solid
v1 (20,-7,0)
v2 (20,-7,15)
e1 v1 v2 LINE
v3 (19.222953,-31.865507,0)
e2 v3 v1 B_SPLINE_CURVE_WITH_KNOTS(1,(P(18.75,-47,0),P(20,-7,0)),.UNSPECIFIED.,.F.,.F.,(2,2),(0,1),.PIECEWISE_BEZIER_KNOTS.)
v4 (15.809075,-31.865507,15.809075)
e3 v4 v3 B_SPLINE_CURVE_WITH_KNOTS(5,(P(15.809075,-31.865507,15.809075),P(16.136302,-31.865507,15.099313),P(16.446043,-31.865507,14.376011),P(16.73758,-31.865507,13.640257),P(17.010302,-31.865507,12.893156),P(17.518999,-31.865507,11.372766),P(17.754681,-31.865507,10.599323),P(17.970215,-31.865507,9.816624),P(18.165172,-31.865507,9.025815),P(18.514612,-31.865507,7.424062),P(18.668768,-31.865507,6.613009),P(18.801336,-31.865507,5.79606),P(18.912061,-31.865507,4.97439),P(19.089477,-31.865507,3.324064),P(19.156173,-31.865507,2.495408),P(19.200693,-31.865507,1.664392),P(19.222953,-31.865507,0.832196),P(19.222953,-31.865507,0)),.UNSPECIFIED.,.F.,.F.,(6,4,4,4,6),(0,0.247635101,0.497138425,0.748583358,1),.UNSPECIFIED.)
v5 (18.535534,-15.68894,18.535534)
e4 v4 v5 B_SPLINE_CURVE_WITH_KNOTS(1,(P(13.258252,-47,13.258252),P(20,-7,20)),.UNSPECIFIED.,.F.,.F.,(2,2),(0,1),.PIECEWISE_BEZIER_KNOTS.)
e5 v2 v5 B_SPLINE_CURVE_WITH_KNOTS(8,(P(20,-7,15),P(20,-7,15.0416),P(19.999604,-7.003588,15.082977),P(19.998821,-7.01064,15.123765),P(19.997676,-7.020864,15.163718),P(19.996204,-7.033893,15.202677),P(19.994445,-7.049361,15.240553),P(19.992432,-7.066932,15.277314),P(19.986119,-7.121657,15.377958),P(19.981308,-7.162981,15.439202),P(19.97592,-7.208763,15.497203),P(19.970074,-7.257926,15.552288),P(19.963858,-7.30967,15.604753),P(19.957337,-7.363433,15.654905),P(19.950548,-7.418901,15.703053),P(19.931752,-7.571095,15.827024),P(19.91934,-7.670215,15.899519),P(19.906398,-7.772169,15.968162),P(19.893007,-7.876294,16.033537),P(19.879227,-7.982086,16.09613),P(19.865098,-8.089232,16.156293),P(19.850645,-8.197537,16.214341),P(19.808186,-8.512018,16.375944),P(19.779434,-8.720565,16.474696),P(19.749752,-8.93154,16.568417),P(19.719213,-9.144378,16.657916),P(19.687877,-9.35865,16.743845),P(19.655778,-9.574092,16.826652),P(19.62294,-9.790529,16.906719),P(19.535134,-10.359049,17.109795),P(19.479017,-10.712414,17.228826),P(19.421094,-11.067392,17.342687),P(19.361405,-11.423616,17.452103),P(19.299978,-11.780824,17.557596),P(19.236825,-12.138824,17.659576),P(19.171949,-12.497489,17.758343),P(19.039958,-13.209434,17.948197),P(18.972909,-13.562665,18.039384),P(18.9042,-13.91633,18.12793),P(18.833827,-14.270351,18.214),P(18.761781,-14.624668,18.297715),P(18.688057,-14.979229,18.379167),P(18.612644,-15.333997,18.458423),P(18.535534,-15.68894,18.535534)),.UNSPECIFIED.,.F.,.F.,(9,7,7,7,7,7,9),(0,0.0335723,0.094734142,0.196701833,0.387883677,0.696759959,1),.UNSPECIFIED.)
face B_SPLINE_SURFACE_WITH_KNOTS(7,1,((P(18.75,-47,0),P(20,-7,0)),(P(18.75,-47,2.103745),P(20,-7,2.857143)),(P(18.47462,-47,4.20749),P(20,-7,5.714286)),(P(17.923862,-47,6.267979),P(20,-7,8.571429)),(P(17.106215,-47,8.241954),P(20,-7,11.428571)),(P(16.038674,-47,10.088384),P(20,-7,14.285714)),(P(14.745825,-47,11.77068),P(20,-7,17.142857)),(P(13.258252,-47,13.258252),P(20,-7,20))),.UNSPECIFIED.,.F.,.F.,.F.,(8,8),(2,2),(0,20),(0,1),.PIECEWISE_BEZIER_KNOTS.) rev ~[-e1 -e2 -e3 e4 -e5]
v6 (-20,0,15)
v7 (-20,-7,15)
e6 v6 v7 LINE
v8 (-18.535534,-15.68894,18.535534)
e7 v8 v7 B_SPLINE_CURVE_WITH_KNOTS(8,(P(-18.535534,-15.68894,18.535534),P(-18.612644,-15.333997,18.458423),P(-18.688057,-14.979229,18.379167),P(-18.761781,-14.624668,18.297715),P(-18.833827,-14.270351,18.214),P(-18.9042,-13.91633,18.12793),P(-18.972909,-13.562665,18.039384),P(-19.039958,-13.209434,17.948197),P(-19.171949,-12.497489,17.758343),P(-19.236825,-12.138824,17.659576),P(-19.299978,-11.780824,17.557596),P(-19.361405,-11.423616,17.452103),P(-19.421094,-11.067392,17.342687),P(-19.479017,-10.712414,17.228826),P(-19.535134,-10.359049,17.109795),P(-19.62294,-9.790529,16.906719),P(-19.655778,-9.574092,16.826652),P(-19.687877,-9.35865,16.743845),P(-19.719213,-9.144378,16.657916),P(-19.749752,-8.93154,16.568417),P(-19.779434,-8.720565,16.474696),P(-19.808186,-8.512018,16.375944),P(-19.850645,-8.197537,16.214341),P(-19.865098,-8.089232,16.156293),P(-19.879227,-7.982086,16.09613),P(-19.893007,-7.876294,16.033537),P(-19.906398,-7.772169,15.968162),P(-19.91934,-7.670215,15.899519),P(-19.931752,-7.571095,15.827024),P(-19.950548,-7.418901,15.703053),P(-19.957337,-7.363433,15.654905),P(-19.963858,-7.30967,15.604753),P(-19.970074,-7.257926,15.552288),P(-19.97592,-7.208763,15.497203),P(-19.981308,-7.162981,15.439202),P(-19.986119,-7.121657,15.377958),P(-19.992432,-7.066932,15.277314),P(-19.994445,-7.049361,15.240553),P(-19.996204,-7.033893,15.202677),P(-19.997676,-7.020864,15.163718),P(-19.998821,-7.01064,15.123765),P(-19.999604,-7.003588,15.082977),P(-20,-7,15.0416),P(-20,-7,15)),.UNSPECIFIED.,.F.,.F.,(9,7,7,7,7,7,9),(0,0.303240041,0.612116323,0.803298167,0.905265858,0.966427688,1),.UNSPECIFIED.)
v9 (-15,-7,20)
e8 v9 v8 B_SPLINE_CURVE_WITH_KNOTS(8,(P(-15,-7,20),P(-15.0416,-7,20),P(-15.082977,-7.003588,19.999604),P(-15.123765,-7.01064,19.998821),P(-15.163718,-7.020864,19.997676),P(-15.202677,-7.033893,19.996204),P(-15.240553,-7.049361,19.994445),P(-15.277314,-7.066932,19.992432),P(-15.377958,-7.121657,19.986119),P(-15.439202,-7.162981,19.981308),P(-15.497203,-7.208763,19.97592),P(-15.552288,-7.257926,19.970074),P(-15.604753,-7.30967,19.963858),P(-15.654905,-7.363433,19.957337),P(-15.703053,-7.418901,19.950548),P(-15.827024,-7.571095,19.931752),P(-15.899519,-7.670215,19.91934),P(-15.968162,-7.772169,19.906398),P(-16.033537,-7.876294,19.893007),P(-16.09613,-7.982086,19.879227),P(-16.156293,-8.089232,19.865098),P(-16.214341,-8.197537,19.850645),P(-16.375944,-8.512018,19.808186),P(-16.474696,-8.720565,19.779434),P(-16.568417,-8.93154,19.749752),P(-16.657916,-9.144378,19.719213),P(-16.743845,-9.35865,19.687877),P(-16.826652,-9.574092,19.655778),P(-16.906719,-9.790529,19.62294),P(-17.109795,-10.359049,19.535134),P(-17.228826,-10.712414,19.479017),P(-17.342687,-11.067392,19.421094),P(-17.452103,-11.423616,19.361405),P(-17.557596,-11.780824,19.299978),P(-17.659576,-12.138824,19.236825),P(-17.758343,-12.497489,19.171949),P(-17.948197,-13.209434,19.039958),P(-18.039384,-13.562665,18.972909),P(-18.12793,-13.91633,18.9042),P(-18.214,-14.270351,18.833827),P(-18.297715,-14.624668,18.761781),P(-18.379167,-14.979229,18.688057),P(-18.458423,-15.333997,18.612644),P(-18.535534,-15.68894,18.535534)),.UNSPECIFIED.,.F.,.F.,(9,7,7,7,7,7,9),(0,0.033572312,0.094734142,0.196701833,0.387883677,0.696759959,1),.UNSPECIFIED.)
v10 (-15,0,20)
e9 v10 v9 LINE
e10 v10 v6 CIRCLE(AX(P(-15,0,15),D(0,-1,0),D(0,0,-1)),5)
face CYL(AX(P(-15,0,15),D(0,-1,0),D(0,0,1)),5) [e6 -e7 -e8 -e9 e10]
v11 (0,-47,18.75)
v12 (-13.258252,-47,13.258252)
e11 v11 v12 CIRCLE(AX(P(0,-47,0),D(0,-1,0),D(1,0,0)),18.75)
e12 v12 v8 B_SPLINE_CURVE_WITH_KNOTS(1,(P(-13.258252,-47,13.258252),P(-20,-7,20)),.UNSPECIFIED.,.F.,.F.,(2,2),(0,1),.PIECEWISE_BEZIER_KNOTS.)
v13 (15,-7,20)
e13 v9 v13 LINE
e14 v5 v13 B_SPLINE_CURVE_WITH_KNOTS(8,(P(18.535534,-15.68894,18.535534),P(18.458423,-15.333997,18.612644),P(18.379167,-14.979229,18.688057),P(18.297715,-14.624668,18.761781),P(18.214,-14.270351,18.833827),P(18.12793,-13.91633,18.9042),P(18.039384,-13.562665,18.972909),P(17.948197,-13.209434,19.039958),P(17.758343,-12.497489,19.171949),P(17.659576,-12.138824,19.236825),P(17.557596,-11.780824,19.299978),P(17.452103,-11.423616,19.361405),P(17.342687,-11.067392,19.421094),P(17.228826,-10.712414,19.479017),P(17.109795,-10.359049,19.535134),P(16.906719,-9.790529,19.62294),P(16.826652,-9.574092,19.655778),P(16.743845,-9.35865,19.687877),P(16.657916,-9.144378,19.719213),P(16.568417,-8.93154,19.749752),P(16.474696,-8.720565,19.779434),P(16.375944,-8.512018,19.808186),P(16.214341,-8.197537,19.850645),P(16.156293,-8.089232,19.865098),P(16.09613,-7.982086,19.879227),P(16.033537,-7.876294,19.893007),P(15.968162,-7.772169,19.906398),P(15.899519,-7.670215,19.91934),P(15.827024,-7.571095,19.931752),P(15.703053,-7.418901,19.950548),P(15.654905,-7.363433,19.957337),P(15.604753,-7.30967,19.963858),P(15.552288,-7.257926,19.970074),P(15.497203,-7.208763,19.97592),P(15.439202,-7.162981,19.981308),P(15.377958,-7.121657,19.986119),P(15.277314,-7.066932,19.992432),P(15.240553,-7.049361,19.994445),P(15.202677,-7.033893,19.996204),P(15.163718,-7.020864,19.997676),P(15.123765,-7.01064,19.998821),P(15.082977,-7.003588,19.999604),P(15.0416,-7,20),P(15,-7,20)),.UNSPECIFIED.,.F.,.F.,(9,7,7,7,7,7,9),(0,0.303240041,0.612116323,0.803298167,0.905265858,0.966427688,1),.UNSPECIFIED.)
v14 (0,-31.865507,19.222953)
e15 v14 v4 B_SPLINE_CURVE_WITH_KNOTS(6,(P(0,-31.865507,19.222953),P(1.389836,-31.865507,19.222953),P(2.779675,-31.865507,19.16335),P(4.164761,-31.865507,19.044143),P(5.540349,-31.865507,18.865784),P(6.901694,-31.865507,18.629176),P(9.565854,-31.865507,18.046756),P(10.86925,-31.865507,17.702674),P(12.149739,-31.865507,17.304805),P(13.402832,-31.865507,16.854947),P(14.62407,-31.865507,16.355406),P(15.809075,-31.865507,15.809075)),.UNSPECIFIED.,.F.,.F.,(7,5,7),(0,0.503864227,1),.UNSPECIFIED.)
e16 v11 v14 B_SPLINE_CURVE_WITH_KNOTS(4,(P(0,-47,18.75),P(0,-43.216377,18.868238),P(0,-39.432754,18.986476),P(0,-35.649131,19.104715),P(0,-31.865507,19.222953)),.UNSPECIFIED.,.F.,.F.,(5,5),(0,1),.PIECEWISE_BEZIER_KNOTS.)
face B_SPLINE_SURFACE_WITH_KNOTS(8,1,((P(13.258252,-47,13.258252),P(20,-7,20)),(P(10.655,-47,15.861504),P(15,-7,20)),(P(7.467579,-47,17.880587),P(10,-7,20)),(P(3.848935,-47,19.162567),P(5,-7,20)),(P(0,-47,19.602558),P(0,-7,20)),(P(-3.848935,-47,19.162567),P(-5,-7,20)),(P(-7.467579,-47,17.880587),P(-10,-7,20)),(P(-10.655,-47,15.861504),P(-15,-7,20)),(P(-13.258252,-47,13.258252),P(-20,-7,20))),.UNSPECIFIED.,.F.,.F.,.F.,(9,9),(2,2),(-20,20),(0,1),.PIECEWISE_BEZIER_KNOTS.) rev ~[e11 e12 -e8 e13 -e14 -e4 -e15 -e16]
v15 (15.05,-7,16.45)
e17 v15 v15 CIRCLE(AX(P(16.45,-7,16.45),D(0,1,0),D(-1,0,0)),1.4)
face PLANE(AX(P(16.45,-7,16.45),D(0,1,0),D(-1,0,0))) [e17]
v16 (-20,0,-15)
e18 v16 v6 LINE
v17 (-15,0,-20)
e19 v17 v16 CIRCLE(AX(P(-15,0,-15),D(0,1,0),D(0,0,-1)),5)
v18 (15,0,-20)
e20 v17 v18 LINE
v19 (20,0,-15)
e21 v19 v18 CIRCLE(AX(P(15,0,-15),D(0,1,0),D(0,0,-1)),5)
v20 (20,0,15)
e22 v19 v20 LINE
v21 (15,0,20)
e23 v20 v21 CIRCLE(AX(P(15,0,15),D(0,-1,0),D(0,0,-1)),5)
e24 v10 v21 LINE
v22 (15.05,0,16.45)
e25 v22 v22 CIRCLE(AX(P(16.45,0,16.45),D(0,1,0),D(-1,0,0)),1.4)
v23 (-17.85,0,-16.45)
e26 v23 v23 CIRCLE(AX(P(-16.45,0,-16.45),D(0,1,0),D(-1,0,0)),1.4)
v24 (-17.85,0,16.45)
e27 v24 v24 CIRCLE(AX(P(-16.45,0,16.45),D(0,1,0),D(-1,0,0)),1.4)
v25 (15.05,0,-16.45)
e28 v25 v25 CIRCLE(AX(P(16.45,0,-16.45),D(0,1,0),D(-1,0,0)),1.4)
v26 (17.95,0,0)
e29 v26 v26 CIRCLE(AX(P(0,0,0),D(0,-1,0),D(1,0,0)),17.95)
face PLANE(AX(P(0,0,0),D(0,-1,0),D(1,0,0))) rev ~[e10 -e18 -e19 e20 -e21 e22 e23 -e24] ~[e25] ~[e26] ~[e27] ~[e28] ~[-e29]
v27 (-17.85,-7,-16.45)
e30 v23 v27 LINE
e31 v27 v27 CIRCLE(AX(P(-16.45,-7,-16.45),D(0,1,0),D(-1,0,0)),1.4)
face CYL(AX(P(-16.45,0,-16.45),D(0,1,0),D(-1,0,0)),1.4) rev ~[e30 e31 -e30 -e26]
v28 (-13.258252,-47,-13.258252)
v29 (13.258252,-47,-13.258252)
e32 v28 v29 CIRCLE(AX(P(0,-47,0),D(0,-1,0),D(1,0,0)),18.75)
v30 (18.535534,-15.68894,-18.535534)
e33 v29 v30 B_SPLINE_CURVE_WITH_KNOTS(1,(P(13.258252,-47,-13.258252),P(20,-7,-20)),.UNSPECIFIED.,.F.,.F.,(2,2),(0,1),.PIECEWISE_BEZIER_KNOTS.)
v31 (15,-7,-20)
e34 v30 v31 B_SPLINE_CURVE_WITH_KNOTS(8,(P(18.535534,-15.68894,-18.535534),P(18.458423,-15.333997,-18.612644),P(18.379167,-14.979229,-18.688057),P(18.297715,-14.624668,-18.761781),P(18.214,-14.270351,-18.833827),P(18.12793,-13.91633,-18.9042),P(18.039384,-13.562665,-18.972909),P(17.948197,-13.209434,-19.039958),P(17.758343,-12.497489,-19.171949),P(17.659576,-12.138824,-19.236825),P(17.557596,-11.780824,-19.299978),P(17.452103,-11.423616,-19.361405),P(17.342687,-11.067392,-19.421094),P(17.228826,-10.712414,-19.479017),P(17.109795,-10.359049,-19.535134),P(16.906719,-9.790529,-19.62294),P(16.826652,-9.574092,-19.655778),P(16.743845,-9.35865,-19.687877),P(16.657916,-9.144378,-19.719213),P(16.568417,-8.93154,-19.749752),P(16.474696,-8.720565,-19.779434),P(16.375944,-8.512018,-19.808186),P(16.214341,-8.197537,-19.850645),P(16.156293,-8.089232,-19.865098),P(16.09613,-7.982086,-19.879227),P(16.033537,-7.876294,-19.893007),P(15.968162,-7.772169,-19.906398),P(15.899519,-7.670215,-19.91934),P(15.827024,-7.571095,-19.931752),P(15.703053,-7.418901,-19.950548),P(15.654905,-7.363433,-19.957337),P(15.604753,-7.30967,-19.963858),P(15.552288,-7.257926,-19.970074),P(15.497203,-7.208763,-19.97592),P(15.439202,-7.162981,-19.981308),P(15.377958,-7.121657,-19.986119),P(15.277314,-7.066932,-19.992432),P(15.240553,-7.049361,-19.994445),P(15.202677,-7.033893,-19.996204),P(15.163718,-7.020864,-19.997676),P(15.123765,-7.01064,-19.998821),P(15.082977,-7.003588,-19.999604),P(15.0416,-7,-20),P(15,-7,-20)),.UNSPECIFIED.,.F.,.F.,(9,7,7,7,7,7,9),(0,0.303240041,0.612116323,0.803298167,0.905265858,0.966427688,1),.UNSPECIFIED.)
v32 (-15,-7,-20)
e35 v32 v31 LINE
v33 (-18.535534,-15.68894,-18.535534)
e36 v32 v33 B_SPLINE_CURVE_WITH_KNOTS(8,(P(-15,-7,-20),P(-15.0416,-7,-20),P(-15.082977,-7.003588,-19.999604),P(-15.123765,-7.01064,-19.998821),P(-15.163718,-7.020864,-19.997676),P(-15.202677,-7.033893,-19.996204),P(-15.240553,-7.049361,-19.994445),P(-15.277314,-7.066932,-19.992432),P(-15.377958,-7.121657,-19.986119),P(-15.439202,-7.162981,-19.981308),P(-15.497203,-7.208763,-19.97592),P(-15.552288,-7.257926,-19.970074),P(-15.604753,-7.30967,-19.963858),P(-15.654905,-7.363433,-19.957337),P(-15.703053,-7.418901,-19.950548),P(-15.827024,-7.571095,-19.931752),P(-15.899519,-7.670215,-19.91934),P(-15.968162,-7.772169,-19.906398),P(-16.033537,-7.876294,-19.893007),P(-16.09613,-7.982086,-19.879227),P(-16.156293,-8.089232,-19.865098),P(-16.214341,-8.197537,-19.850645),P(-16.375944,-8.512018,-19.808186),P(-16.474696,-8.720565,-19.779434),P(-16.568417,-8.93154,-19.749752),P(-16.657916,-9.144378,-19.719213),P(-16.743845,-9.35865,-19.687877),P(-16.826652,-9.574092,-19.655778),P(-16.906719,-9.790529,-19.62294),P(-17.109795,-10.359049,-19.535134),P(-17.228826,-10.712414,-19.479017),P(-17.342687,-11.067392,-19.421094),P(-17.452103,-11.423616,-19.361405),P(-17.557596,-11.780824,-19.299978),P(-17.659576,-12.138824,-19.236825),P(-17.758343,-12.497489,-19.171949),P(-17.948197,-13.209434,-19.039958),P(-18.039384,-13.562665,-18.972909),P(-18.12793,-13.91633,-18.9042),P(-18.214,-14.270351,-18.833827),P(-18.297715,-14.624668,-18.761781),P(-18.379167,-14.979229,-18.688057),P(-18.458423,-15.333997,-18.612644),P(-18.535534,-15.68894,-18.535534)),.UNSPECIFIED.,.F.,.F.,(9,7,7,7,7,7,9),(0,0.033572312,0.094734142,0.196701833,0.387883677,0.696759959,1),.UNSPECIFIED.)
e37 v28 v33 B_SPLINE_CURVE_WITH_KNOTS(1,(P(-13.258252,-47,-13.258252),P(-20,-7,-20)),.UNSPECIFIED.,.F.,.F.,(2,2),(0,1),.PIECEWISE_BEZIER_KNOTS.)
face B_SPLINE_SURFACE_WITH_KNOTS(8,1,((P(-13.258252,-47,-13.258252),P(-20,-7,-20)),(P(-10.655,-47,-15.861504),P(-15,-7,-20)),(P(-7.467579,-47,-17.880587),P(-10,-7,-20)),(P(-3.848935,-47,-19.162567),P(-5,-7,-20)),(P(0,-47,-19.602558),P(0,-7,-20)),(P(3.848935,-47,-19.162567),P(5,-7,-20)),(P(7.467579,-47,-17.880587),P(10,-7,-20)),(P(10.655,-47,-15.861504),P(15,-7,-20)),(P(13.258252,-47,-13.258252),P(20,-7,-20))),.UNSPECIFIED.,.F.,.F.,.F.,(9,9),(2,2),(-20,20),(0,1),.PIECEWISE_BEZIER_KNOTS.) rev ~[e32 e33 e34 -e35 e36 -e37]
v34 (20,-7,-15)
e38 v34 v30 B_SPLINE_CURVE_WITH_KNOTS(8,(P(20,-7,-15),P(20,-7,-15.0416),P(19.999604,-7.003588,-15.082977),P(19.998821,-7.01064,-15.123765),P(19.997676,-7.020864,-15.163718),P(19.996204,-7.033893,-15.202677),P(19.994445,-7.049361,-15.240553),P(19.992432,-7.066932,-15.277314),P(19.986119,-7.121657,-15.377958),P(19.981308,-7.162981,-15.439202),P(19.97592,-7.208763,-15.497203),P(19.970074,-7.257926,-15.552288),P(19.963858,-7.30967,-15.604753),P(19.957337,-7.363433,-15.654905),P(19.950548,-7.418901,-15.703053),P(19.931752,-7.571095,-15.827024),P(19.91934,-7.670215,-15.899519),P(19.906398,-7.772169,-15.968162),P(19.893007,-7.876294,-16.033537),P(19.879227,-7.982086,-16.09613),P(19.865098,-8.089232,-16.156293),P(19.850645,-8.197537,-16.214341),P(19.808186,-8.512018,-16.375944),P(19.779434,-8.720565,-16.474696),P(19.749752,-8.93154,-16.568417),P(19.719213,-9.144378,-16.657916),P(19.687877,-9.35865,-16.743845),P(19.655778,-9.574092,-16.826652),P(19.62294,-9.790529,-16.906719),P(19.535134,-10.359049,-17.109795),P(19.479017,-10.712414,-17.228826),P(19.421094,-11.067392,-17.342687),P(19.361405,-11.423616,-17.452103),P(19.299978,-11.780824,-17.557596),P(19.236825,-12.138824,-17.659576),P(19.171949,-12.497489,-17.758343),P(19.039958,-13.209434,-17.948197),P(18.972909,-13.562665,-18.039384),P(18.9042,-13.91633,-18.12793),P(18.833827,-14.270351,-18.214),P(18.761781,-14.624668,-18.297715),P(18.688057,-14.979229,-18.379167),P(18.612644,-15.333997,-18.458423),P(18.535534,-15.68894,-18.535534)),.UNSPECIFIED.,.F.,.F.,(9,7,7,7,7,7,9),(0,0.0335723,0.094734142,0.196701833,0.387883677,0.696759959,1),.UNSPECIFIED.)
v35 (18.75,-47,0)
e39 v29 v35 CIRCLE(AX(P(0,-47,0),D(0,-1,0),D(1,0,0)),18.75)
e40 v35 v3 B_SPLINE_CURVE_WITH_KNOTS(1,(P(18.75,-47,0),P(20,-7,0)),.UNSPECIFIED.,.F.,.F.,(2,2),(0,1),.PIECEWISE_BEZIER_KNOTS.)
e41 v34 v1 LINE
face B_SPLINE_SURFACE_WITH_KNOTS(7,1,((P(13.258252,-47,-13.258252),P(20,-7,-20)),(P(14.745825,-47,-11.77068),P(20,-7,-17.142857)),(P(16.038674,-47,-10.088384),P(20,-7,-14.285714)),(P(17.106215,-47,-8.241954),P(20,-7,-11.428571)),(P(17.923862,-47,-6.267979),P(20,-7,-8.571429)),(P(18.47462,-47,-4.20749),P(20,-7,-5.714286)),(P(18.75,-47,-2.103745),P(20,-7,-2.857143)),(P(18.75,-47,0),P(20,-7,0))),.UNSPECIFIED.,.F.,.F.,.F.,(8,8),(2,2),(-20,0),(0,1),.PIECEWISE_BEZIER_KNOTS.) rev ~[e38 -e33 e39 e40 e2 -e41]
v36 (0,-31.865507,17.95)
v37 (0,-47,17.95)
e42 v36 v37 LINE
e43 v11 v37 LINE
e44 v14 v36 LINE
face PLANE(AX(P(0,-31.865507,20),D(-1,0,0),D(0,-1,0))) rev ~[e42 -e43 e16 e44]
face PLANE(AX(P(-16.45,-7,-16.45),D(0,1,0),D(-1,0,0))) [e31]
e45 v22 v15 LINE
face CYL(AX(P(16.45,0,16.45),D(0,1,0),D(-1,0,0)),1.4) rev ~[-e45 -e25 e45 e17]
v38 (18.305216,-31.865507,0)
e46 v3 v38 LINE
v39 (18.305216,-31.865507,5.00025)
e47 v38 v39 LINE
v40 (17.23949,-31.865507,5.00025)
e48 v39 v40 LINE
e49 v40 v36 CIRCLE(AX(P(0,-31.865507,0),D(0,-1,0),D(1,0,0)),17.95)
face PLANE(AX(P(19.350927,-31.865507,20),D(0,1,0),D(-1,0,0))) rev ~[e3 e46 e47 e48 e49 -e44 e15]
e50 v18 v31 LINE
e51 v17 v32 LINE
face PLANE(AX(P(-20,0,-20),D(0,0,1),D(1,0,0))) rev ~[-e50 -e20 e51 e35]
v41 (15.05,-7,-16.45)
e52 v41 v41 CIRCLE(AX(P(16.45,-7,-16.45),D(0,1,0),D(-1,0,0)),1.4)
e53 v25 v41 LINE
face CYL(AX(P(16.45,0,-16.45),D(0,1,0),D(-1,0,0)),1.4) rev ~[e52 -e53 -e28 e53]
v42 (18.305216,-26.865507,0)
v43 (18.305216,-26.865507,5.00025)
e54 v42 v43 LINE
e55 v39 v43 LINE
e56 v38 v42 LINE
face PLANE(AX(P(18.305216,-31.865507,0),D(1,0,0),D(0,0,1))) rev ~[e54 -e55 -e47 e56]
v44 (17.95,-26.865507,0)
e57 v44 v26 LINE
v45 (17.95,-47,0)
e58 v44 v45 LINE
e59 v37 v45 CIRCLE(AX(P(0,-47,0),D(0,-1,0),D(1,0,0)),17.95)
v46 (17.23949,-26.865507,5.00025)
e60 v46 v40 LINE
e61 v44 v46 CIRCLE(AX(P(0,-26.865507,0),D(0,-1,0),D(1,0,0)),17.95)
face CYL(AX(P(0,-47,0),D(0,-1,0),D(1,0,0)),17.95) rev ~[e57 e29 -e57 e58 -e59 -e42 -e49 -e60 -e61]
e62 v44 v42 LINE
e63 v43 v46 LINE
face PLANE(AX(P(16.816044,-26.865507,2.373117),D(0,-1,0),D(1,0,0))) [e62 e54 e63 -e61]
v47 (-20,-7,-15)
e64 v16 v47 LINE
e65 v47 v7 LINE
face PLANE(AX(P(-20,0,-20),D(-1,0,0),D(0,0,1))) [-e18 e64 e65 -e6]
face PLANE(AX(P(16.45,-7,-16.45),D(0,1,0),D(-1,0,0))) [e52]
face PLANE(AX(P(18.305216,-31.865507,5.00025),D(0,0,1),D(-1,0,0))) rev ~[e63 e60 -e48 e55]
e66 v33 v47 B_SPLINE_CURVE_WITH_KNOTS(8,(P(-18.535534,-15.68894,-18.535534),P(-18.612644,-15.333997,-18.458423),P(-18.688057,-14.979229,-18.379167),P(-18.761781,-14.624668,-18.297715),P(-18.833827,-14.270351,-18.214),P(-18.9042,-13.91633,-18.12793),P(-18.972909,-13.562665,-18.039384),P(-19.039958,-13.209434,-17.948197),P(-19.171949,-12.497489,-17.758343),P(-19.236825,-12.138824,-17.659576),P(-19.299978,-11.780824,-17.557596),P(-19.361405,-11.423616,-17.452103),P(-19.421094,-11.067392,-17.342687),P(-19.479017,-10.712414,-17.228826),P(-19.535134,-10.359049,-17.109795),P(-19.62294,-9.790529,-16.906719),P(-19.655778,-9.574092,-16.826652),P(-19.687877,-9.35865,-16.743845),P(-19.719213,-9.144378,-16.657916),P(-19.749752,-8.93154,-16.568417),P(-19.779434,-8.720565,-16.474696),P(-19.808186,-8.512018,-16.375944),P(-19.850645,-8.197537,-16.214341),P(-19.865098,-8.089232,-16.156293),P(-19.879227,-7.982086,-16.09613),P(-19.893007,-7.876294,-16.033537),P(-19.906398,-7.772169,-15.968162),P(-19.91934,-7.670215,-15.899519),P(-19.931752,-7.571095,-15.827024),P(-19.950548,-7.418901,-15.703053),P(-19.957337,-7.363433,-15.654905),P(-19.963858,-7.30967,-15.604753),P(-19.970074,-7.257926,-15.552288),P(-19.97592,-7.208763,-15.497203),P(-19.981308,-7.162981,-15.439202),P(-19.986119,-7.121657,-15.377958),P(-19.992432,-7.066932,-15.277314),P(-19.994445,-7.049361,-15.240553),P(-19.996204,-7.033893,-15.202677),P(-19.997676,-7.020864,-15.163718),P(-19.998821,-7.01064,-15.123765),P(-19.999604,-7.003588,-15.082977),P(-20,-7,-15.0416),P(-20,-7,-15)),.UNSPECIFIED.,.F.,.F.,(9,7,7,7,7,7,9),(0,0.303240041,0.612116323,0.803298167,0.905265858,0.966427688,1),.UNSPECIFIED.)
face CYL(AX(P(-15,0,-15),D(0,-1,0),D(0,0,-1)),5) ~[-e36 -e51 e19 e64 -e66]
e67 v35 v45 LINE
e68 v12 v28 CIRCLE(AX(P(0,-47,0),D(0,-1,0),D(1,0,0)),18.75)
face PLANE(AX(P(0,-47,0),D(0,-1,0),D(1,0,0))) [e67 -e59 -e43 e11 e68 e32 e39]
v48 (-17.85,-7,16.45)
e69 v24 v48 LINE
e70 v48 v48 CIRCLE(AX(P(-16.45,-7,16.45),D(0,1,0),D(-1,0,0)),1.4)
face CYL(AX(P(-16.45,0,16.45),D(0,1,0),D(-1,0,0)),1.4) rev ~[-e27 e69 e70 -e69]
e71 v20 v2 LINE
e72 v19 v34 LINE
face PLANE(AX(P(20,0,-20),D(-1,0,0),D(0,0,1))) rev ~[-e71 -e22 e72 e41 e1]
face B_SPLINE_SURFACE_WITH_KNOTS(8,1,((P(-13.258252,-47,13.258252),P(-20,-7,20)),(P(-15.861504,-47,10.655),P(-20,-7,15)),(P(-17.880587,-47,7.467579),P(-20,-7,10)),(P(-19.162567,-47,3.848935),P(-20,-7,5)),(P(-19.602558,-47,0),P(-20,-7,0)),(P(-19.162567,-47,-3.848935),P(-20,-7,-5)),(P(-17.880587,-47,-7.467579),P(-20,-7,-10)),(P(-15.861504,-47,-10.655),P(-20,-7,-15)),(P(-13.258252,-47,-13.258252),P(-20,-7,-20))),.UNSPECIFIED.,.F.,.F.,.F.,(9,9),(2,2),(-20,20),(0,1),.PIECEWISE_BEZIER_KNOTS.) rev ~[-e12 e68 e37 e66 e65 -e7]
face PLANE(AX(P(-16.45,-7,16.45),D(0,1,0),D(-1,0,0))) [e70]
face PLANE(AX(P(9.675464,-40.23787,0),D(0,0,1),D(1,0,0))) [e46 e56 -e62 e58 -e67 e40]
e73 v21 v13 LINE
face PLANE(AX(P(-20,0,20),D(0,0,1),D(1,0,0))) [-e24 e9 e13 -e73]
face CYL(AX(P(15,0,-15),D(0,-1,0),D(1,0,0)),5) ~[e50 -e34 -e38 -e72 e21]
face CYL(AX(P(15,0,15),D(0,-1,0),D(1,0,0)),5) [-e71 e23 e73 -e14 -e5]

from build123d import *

# Parameters (mm, degrees)
F0_W      = 40
F0_H      = 40
F1_DEPTH  = 7
F3_R      = 18.75
F1_FACE_W = 40
F1_FACE_H = 40
F5_R      = 17.95
F6_DEPTH  = 47
F7_R      = 1.4
F8_DEPTH  = 7
F9_R      = 5
F11_DEPTH = 20
F13_DEPTH = 5


with BuildPart() as f1:
    # F0 (on Front) → F1 (new body)
    with BuildSketch(Plane.XZ):
        Rectangle(F0_W, F0_H)
    extrude(amount=F1_DEPTH)

    # F3 (on offset) → F4 section 0
    with BuildSketch(Plane.XZ.offset(47)):
        Circle(F3_R)
    # F1_face (on face) → F4 section 1
    with BuildSketch(Plane.XZ.offset(7)):
        Rectangle(F1_FACE_W, F1_FACE_H)
    loft()

    # F5 (on face) → F6 (cut, through all)
    with BuildSketch(Plane.XZ.offset(47)):
        Circle(F5_R)
    extrude(amount=-F6_DEPTH, mode=Mode.SUBTRACT)

    # F7 (on face) → F8 (cut, through all)
    with BuildSketch(Plane(origin=(0, 0, 0), x_dir=(-1, 0, 0), z_dir=(0, 1, 0))):
        with Locations((-16.45, 16.45)):
            Circle(F7_R)
        with Locations((16.45, 16.45)):
            Circle(F7_R)
        with Locations((-16.45, -16.45)):
            Circle(F7_R)
        with Locations((16.45, -16.45)):
            Circle(F7_R)
    extrude(amount=-F8_DEPTH, mode=Mode.SUBTRACT)

    # F9
    f9_edges = [f1.edges().sort_by_distance(p)[0] for p in [
        (20, -3.5, -20),
        (20, -3.5, 20),
        (-20, -3.5, 20),
        (-20, -3.5, -20),
    ]]
    fillet(f9_edges, radius=F9_R)

    # F10 (on face) → F11 (cut)
    with BuildSketch(Plane.XY.offset(20)):
        Polygon((0, -31.8655073643), (0, -47.008369118), (0, -48.6102327704), (19.3509273231, -48.6102327704), (19.3509273231, -31.8655073643), align=None)
    extrude(amount=-F11_DEPTH, mode=Mode.SUBTRACT)

    # F12 (on face) → F13 (cut)
    with BuildSketch(Plane.XZ.offset(31.8655073643)):
        with BuildLine():
            Line((15.9311909229, 0), (17.95, 0))
            ThreePointArc((17.95, 0), (17.7714847113, 2.5252388315), (17.2394895648, 5.0002499484))
            Line((17.2394895648, 5.0002499484), (15.9311909229, 5.0002499484))
            Line((15.9311909229, 5.0002499484), (15.9311909229, 0))
        make_face()
        with BuildLine():
            ThreePointArc((17.2394895648, 5.0002499484), (17.7714847113, 2.5252388315), (17.95, 0))
            Line((17.95, 0), (18.3052159846, 0))
            Line((18.3052159846, 0), (18.3052159846, 5.0002499484))
            Line((18.3052159846, 5.0002499484), (17.2394895648, 5.0002499484))
        make_face()
    extrude(amount=-F13_DEPTH, mode=Mode.SUBTRACT)


solid = f1.part
